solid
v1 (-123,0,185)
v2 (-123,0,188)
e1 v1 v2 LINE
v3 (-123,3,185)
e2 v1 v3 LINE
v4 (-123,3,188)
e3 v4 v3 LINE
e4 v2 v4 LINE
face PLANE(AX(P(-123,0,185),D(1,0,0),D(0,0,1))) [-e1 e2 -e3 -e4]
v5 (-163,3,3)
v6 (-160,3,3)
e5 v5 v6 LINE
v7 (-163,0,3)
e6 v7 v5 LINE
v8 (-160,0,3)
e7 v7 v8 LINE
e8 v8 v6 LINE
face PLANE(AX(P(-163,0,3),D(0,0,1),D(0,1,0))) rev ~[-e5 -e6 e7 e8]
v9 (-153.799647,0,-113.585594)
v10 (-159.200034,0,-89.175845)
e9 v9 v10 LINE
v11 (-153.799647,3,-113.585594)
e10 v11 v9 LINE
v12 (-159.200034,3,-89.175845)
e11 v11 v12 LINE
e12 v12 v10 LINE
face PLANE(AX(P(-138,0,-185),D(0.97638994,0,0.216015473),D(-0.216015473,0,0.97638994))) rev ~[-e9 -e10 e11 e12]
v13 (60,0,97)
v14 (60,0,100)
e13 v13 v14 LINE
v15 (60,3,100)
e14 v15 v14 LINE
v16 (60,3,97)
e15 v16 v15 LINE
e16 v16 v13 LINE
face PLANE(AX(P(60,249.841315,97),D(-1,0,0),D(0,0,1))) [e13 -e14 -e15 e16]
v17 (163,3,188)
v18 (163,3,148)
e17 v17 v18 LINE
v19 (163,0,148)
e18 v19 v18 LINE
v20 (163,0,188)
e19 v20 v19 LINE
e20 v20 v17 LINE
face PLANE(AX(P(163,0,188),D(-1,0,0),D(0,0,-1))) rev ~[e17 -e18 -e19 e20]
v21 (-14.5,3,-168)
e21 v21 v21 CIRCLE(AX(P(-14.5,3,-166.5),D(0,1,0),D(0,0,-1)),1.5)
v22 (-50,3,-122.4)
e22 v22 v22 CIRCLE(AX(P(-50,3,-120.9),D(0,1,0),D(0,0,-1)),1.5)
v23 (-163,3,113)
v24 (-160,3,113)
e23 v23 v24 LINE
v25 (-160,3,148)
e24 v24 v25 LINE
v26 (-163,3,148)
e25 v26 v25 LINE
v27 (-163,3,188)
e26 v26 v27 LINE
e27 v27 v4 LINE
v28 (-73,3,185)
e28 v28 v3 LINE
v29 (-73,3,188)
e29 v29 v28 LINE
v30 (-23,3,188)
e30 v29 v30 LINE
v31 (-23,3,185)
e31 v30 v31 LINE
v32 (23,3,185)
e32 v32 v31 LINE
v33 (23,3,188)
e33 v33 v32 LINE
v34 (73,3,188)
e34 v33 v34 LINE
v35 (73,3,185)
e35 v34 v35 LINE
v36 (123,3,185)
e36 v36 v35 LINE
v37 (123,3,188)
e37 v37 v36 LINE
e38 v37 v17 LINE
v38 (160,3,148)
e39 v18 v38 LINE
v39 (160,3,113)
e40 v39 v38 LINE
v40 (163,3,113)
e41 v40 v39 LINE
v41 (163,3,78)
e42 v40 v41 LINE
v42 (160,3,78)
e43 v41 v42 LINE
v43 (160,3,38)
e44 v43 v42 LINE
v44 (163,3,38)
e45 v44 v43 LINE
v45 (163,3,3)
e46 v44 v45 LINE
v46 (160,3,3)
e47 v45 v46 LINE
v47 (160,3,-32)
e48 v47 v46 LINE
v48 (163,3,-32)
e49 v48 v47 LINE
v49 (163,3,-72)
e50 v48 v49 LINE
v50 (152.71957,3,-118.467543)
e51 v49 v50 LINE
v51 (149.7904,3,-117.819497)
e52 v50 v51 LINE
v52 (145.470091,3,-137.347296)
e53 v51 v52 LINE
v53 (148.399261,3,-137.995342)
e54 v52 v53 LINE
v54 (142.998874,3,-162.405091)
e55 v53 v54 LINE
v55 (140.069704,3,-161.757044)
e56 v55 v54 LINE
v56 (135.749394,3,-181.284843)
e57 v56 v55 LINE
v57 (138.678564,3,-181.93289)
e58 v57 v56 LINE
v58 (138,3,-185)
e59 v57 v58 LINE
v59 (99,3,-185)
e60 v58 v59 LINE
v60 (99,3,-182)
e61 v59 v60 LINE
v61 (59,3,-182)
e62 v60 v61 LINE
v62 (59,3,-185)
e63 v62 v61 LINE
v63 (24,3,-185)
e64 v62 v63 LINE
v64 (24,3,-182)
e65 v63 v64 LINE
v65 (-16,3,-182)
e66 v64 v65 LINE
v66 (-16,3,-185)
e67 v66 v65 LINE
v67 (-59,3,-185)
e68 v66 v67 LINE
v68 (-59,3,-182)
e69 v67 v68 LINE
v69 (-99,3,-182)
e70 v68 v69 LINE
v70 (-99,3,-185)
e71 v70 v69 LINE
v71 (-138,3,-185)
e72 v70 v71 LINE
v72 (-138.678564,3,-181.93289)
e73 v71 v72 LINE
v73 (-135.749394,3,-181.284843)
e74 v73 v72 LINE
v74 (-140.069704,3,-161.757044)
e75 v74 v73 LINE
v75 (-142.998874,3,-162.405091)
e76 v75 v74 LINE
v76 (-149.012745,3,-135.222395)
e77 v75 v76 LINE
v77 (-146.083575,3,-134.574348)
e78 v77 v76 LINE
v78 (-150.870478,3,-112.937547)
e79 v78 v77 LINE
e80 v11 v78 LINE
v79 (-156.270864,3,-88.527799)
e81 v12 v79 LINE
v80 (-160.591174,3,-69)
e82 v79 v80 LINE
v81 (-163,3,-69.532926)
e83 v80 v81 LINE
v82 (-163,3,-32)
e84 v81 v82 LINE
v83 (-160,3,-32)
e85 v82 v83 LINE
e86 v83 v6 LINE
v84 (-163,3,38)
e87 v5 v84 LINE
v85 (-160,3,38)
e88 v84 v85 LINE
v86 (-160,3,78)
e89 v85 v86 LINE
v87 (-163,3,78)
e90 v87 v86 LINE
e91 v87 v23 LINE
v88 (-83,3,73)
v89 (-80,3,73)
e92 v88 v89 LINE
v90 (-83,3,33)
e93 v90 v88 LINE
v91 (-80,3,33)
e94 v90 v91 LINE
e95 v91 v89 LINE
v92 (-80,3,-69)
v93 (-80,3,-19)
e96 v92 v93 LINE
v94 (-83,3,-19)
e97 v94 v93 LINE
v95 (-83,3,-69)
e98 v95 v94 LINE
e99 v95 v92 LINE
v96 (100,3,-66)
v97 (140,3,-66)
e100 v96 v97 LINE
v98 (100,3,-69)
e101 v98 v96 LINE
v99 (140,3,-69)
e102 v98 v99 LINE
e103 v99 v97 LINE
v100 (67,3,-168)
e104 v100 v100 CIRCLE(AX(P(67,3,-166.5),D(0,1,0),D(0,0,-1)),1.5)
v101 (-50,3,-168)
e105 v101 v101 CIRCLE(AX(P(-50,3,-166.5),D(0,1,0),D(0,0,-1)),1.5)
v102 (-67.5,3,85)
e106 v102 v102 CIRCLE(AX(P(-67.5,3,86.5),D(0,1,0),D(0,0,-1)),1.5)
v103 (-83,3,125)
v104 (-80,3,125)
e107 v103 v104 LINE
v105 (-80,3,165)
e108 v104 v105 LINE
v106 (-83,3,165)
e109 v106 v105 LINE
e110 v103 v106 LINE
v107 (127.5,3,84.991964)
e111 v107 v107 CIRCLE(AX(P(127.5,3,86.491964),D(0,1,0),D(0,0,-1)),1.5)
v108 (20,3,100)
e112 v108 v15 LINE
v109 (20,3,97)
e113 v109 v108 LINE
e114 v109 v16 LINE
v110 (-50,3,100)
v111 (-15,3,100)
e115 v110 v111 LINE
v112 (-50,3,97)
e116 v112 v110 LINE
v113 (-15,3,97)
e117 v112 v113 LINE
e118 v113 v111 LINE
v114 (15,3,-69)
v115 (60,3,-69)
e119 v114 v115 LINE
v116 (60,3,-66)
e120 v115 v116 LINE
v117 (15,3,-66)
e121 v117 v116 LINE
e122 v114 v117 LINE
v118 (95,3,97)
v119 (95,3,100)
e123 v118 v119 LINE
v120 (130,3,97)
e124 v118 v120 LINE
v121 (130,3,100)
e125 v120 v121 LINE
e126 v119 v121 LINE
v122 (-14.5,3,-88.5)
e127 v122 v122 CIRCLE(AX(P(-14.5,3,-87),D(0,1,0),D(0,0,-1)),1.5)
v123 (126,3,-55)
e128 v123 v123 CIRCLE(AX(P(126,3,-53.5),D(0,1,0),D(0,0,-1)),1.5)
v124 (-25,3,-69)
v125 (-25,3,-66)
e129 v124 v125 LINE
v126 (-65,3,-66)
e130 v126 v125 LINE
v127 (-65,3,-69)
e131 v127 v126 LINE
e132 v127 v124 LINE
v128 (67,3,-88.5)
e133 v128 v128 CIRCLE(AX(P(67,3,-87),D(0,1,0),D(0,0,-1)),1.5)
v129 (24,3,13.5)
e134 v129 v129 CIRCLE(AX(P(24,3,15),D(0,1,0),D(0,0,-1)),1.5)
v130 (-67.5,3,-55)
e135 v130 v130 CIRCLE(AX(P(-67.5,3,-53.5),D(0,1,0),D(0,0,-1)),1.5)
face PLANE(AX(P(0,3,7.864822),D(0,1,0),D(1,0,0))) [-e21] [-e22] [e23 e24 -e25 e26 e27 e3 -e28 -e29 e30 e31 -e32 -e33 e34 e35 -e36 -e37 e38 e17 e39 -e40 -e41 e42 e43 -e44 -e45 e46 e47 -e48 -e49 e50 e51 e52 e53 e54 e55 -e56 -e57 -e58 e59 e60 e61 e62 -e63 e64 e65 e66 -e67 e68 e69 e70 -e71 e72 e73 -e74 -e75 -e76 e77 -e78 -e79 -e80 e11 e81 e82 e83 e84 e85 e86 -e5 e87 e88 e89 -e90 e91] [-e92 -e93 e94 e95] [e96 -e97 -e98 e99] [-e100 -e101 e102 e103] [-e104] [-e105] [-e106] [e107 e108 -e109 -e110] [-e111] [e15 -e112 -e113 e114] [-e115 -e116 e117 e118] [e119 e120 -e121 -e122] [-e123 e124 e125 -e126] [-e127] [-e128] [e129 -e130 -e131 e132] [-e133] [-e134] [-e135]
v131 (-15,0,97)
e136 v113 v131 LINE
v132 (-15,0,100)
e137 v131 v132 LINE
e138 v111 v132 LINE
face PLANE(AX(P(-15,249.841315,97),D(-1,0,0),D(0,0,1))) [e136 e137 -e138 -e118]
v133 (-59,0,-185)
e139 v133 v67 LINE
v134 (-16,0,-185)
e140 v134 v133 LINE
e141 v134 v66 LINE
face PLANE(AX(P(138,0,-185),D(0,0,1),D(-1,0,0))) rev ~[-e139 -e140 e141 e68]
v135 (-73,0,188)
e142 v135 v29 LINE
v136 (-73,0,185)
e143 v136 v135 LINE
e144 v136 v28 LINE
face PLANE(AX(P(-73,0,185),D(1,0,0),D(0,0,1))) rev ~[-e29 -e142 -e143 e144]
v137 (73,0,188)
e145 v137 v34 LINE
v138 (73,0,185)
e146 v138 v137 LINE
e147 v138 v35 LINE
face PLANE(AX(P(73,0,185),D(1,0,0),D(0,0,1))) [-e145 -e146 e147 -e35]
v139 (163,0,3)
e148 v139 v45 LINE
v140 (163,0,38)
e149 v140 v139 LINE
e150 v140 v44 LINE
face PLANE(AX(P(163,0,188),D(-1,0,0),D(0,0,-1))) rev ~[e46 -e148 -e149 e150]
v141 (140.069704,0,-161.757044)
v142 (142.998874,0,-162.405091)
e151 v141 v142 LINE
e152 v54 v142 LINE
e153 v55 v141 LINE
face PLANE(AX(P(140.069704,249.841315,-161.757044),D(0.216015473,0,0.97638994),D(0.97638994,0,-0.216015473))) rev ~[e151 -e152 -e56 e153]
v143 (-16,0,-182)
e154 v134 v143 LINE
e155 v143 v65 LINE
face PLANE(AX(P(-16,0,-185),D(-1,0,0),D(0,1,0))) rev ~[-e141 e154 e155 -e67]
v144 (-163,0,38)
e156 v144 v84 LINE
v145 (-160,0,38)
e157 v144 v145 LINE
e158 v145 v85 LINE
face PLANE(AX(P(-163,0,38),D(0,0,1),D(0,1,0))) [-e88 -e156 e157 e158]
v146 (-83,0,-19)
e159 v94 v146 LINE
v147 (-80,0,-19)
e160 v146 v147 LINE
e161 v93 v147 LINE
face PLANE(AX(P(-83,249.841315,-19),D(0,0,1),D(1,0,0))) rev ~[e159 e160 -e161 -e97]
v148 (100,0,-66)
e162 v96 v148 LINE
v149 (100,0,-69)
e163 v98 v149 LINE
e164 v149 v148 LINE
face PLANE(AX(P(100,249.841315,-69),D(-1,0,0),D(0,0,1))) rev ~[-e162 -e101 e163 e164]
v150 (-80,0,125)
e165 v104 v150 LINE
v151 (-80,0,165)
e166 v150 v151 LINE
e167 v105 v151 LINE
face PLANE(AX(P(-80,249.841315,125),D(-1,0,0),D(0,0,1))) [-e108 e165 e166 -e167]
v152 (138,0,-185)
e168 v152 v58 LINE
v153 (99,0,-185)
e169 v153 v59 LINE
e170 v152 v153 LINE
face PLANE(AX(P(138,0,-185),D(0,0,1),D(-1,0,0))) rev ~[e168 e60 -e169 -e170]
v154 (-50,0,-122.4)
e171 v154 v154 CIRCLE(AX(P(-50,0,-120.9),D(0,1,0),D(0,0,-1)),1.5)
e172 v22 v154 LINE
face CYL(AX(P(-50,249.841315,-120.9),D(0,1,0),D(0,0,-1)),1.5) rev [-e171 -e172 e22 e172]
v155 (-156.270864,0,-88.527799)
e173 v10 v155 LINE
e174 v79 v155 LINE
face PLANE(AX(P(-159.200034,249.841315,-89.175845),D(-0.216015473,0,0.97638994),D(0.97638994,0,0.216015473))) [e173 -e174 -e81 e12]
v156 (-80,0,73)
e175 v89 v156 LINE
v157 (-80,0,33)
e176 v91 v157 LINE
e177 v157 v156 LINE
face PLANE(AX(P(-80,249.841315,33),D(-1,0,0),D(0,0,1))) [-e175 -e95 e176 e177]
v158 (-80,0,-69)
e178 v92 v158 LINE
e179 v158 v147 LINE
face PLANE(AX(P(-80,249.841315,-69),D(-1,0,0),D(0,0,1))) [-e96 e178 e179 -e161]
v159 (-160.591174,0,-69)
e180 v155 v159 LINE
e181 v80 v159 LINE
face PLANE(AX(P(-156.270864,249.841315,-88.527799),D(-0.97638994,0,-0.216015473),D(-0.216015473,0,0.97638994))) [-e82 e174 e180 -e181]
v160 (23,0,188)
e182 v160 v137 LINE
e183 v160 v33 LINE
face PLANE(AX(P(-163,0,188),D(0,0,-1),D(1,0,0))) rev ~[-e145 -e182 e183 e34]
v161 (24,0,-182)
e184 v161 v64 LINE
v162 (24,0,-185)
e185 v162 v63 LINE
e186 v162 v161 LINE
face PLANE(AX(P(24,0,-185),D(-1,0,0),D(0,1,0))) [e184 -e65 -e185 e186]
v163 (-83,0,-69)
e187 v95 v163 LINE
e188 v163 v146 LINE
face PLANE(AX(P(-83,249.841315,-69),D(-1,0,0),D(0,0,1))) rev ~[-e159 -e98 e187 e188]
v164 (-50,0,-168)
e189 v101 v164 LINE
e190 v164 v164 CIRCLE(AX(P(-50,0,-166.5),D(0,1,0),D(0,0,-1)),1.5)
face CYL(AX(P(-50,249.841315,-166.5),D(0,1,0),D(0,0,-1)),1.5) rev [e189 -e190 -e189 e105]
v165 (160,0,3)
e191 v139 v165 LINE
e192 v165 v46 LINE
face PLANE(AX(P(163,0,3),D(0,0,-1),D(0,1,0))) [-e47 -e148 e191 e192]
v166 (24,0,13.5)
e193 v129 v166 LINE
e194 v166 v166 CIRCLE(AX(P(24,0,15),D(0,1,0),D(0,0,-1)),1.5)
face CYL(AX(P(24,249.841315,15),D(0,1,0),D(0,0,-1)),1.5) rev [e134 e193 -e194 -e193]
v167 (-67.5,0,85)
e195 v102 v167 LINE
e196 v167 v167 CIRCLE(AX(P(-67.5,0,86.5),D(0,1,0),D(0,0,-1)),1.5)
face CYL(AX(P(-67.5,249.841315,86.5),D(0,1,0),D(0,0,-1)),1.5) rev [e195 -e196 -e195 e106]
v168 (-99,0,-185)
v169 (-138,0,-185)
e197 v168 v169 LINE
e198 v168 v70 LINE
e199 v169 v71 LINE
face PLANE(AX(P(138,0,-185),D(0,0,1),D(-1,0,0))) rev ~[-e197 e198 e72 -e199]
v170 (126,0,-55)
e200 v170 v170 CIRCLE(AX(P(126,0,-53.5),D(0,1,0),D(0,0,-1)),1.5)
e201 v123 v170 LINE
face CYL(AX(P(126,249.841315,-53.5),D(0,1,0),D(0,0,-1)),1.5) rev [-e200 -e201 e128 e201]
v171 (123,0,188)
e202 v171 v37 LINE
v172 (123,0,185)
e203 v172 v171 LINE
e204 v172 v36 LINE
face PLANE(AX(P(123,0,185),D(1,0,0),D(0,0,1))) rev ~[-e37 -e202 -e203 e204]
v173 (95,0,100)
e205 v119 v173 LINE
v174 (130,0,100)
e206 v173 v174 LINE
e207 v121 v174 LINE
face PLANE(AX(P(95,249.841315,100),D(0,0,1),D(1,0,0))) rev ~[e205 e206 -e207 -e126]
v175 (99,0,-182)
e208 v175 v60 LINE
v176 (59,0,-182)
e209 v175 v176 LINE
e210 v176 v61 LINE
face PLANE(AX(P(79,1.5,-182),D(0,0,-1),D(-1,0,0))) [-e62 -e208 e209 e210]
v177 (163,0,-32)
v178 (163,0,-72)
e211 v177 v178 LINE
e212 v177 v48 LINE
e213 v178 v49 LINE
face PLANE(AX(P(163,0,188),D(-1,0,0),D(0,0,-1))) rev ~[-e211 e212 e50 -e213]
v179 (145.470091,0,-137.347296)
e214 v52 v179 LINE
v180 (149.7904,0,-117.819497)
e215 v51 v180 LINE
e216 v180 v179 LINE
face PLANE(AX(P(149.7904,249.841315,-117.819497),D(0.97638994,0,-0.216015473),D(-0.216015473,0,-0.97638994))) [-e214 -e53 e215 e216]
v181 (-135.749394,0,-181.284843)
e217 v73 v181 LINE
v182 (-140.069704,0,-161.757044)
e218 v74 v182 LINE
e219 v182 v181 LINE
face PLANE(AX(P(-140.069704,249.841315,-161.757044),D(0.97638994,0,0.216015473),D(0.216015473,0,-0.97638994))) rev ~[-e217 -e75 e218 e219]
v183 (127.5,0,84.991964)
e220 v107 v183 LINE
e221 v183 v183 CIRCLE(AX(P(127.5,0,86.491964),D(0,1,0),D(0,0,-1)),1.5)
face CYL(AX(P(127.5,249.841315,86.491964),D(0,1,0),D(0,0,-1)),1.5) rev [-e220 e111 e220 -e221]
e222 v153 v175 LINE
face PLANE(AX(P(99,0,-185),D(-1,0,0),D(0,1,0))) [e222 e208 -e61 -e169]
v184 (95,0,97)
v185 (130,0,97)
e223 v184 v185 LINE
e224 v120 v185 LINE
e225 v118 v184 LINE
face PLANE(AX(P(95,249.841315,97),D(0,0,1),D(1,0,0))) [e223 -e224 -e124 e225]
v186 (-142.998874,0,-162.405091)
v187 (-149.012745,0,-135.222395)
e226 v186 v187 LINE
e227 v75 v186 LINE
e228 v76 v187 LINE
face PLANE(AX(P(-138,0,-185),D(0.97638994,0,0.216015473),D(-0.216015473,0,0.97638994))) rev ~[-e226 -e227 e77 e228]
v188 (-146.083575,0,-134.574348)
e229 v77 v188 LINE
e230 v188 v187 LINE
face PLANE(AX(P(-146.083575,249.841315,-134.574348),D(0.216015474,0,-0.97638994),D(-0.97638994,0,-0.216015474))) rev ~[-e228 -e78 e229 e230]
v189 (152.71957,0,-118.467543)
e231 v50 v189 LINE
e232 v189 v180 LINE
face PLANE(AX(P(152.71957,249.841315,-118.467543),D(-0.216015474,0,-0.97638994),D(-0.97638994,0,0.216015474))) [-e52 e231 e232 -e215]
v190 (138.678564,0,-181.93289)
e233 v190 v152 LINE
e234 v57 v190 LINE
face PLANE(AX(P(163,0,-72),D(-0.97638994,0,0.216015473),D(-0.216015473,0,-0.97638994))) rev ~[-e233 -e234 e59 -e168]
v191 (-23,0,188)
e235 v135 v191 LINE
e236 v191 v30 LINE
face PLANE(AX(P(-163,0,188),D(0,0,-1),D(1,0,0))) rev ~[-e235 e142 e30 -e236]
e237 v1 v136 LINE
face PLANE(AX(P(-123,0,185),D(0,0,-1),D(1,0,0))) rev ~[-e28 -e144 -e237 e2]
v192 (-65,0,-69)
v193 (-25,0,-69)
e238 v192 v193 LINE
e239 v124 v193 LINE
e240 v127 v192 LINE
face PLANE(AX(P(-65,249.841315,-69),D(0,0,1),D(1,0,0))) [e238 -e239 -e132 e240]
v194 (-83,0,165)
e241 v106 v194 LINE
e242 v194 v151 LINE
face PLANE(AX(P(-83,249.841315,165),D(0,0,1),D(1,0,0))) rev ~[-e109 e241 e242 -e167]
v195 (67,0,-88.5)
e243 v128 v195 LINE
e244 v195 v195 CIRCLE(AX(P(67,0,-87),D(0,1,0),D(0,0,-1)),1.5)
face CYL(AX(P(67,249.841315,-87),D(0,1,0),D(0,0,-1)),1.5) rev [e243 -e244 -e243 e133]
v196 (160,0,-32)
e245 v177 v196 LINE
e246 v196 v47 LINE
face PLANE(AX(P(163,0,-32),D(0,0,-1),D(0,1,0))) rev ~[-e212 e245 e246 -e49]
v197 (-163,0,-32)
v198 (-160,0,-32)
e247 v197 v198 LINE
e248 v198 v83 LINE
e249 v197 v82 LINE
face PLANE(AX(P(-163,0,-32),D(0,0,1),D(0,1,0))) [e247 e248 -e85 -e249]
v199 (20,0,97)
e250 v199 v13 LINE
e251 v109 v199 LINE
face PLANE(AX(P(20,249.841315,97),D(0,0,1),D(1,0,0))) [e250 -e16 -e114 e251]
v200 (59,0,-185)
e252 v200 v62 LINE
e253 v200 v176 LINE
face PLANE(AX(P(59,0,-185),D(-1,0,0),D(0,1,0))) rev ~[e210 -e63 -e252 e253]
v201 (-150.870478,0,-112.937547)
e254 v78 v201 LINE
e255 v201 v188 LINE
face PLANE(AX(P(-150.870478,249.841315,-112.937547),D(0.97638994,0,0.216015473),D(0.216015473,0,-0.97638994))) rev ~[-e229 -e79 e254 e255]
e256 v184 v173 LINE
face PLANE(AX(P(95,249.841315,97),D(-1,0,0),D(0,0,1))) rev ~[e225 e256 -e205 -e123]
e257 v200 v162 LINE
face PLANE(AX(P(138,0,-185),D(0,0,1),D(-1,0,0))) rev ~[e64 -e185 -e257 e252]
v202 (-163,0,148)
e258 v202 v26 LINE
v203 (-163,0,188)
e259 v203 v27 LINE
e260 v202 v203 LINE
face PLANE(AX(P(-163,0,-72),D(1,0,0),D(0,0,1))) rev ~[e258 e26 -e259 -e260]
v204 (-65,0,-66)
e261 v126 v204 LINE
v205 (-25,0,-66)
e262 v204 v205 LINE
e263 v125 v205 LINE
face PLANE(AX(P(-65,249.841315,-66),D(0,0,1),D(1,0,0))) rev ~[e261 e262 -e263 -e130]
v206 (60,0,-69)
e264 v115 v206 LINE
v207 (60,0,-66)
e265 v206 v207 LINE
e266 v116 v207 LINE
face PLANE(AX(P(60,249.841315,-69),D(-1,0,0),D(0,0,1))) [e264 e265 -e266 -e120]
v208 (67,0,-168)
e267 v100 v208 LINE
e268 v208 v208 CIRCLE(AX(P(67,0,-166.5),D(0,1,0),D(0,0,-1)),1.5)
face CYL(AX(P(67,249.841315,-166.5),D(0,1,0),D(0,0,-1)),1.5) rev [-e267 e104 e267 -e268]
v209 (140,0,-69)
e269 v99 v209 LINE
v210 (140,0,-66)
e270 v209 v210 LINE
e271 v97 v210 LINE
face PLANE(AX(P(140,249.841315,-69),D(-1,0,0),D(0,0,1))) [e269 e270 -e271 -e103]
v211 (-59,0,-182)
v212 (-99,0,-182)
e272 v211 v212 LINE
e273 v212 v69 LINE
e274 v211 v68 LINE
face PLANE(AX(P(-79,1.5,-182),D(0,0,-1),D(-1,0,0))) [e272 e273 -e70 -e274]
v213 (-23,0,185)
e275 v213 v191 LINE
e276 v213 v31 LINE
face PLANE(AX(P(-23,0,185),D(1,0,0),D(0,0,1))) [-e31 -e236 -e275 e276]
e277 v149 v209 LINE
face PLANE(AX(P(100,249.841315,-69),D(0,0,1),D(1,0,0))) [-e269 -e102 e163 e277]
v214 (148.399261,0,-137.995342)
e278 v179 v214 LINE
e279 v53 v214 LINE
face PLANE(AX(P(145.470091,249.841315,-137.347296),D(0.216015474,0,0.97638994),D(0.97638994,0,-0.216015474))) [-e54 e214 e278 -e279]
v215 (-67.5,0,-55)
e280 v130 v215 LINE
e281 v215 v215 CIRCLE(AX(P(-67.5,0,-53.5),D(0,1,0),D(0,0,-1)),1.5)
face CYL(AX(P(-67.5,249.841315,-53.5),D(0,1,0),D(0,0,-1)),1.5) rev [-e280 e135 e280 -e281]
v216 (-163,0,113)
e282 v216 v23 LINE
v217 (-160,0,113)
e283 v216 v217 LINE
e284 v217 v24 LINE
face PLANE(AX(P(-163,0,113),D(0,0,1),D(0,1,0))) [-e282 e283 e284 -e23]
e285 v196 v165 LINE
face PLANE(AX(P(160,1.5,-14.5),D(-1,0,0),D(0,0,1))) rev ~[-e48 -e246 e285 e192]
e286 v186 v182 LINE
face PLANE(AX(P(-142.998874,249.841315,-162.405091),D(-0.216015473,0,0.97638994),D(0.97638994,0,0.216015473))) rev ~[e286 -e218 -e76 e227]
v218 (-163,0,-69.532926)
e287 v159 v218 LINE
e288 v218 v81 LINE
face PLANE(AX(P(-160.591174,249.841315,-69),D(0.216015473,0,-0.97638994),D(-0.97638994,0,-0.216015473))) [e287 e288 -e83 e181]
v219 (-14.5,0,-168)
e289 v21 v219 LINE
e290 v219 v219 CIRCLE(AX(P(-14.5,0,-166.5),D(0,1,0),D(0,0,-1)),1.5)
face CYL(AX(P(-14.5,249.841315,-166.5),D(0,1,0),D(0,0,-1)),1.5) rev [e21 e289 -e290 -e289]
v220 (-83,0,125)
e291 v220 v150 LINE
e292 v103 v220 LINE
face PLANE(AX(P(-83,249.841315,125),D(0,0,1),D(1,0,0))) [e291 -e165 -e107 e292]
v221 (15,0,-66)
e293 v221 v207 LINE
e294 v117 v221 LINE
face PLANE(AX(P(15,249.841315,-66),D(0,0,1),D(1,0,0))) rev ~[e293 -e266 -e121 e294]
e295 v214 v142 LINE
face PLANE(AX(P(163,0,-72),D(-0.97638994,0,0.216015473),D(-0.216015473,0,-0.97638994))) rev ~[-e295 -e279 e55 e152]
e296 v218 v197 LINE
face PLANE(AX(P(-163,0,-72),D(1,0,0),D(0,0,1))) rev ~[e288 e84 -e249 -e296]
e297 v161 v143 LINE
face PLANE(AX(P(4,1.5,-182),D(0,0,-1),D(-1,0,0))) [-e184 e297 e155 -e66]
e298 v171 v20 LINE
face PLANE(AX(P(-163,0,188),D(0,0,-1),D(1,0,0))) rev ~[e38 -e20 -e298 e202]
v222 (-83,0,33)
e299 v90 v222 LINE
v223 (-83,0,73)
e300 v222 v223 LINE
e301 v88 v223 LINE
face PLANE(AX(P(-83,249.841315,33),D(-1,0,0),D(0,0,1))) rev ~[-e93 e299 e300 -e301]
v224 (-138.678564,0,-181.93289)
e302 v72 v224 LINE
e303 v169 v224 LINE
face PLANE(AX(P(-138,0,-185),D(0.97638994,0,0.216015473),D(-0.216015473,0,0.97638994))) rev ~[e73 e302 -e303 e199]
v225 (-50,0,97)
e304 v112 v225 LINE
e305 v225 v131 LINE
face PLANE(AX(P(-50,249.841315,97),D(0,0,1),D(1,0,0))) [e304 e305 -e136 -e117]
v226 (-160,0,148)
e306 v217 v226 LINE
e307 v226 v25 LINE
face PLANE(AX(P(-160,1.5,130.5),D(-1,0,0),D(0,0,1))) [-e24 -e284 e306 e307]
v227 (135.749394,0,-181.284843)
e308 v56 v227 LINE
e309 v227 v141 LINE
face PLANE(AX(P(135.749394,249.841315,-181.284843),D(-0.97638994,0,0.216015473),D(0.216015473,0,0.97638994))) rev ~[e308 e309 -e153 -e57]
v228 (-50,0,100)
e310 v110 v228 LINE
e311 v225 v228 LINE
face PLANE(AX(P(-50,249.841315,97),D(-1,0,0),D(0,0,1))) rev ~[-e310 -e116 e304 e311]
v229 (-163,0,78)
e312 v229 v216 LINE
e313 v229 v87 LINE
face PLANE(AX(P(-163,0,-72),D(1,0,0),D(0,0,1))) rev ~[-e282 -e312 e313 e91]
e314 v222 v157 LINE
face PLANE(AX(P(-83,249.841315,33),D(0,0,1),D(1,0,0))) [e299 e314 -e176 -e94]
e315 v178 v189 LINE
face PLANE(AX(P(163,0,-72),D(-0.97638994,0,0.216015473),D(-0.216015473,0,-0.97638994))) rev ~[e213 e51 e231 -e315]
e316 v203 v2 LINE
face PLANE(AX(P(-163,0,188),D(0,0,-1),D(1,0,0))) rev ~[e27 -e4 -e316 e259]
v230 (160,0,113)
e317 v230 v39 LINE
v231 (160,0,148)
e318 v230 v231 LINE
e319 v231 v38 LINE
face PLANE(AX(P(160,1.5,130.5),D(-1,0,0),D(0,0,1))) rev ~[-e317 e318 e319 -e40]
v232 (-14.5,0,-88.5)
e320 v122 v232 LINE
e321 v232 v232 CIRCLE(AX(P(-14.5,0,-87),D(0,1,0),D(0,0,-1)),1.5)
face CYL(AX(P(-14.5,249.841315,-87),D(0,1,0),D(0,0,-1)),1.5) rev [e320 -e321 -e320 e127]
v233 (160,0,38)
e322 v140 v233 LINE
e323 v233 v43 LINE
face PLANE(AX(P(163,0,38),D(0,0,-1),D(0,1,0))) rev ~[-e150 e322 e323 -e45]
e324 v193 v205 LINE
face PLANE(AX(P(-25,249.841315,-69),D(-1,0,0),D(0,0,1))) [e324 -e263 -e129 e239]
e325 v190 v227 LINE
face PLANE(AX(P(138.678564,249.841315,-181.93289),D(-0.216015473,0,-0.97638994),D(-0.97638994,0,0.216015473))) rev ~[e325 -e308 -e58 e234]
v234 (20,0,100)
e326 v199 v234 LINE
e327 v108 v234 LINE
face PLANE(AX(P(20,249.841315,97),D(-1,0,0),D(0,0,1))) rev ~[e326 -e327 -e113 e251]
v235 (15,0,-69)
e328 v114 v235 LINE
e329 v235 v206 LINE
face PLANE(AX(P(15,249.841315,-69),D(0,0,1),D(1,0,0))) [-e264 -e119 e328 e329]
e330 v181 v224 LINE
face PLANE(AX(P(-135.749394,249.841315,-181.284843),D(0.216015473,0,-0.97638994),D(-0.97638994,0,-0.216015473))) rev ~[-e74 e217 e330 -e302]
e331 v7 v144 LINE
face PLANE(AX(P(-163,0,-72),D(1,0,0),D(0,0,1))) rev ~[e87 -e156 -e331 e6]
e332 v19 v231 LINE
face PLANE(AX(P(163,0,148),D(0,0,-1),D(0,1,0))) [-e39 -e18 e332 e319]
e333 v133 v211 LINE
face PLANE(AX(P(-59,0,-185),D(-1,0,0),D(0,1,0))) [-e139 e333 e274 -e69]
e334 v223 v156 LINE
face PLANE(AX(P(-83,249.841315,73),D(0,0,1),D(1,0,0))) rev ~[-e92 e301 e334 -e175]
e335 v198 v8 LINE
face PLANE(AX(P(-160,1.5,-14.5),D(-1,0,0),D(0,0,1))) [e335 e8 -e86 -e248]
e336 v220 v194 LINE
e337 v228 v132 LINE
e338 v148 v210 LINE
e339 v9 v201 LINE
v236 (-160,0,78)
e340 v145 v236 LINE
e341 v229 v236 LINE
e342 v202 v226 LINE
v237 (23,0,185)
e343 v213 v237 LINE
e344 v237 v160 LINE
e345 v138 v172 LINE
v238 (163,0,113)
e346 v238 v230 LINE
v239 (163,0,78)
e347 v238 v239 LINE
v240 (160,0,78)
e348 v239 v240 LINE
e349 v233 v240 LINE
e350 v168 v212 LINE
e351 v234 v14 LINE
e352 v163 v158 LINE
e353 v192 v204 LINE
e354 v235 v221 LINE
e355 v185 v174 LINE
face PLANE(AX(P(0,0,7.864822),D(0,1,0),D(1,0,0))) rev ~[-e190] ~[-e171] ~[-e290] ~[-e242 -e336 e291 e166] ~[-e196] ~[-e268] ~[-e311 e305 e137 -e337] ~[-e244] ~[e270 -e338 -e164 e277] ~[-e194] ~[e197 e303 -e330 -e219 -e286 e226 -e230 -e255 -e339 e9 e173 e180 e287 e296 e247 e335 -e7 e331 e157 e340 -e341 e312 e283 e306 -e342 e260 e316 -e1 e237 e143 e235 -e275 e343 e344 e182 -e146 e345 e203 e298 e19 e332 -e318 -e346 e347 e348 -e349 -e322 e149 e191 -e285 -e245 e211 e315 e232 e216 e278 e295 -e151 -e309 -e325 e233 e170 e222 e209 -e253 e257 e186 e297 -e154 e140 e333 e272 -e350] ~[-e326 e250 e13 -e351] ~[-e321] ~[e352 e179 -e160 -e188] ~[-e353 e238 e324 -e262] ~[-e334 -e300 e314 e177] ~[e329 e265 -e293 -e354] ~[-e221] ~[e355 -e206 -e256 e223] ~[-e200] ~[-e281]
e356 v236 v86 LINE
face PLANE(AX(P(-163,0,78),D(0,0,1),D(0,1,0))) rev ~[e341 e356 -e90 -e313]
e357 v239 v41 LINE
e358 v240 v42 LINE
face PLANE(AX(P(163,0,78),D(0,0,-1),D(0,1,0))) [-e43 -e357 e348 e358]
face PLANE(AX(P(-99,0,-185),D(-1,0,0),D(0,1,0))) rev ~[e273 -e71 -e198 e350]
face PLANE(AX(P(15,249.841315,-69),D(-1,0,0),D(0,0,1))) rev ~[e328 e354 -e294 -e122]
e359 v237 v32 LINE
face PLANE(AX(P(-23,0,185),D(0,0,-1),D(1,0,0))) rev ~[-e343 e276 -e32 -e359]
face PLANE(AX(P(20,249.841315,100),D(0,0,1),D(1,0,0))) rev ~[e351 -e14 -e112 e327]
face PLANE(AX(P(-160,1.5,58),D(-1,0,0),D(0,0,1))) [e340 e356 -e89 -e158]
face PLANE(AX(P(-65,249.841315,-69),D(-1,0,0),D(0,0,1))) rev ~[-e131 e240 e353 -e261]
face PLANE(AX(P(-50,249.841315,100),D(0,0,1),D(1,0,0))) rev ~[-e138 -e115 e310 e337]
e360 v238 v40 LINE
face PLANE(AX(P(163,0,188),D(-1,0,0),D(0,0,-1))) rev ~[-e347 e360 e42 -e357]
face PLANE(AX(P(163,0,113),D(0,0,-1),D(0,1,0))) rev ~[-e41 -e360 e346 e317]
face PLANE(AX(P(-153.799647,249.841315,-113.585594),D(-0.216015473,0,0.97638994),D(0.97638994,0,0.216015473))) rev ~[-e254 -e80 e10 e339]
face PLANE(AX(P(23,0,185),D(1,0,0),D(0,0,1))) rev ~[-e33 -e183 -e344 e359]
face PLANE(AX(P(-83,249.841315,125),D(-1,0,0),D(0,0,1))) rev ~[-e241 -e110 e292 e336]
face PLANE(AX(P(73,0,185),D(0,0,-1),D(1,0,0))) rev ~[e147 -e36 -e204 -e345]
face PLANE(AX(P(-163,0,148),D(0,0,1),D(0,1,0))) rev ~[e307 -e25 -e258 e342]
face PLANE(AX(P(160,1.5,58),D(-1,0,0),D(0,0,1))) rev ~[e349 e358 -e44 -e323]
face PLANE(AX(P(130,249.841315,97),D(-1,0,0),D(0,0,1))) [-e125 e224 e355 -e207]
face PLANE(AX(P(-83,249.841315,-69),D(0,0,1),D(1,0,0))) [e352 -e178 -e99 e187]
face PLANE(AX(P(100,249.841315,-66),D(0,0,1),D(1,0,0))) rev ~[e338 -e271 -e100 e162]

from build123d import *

# Parameters (mm, degrees)
BOSS_EXTRUDE1_DEPTH      = 3
SKETCH2_W                = 50
SKETCH2_H                = 3
SKETCH2_W_2              = 46
CUT_EXTRUDE1_DEPTH       = 4
SKETCH4_W                = 35
SKETCH4_H                = 3
SKETCH4_W_2              = 40
CUT_EXTRUDE2_DEPTH       = 3
CUT_EXTRUDE3_START       = -326
SKETCH4_2_W              = 35
SKETCH4_2_H              = 3
SKETCH4_2_W_2            = 40
CUT_EXTRUDE3_DEPTH       = 3
SKETCH5_W                = 40
SKETCH5_H                = 3
CUT_EXTRUDE4_DEPTH       = 3
CUT_EXTRUDE5_DEPTH       = 249.841314898
CUT_EXTRUDE5_DEPTH_BACK  = 249.841314898
SKETCH6_W                = 3
SKETCH6_H                = 40
SKETCH6_H_2              = 50
CUT_EXTRUDE6_DEPTH       = 249.841314898
CUT_EXTRUDE6_DEPTH_BACK  = 249.841314898
SKETCH7_W                = 40
SKETCH7_H                = 3
SKETCH7_W_2              = 45
CUT_EXTRUDE7_DEPTH       = 249.841314898
CUT_EXTRUDE7_DEPTH_BACK  = 249.841314898
CUT_EXTRUDE8_DEPTH       = 249.841314898
CUT_EXTRUDE8_DEPTH_BACK  = 249.841314898
CUT_EXTRUDE9_DEPTH       = 249.841314898
CUT_EXTRUDE9_DEPTH_BACK  = 249.841314898
SKETCH10_W               = 35
SKETCH10_H               = 3
SKETCH10_W_2             = 40
CUT_EXTRUDE10_DEPTH      = 249.841314898
CUT_EXTRUDE10_DEPTH_BACK = 249.841314898
SKETCH11_R               = 1.5
CUT_EXTRUDE11_DEPTH      = 249.841314898
CUT_EXTRUDE11_DEPTH_BACK = 249.841314898
SKETCH12_R               = 1.5


with BuildPart() as part:
    # Sketch1 → Boss-Extrude1 (new body)
    with BuildSketch(Plane(origin=(0, 0, 0), x_dir=(1, 0, 0), z_dir=(0, 1, 0))):
        Polygon((138, 185), (-138, 185), (-163, 72), (-163, -188), (163, -188), (163, 72), align=None)
    extrude(amount=BOSS_EXTRUDE1_DEPTH)

    # Sketch2 → Cut-Extrude1 (cut)
    with BuildSketch(Plane.XZ):
        with Locations((98, 186.5)):
            Rectangle(SKETCH2_W, SKETCH2_H)
        with Locations((0, 186.5)):
            Rectangle(SKETCH2_W_2, SKETCH2_H)
        with Locations((-98, 186.5)):
            Rectangle(SKETCH2_W, SKETCH2_H)
    extrude(amount=-CUT_EXTRUDE1_DEPTH, mode=Mode.SUBTRACT)

    # Sketch4 → Cut-Extrude2 (cut)
    with BuildSketch(Plane.ZY.offset(163)):
        with Locations((130.5, 1.5)):
            Rectangle(SKETCH4_W, SKETCH4_H)
        with Locations((-14.5, 1.5)):
            Rectangle(SKETCH4_W, SKETCH4_H)
        with Locations((58, 1.5)):
            Rectangle(SKETCH4_W_2, SKETCH4_H)
    extrude(amount=-CUT_EXTRUDE2_DEPTH, mode=Mode.SUBTRACT)

    # Sketch4<2> → Cut-Extrude3 (cut)
    with BuildSketch(Plane.ZY.offset(163).offset(CUT_EXTRUDE3_START)):
        with Locations((130.5, 1.5)):
            Rectangle(SKETCH4_2_W, SKETCH4_2_H)
        with Locations((-14.5, 1.5)):
            Rectangle(SKETCH4_2_W, SKETCH4_2_H)
        with Locations((58, 1.5)):
            Rectangle(SKETCH4_2_W_2, SKETCH4_2_H)
    extrude(amount=CUT_EXTRUDE3_DEPTH, mode=Mode.SUBTRACT)

    # Sketch5 → Cut-Extrude4 (cut)
    with BuildSketch(Plane(origin=(0, 0, -185), x_dir=(-1, 0, 0), z_dir=(0, 0, -1))):
        with Locations((79, 1.5)):
            Rectangle(SKETCH5_W, SKETCH5_H)
        with Locations((-4, 1.5)):
            Rectangle(SKETCH5_W, SKETCH5_H)
        with Locations((-79, 1.5)):
            Rectangle(SKETCH5_W, SKETCH5_H)
    extrude(amount=-CUT_EXTRUDE4_DEPTH, mode=Mode.SUBTRACT)

    # Sketch6 → Cut-Extrude5 (cut, two sides: drawn at the far end of the back side and taken through both)
    with BuildSketch(Plane.XZ.offset(-CUT_EXTRUDE5_DEPTH_BACK)):
        with Locations((-81.5, 145)):
            Rectangle(SKETCH6_W, SKETCH6_H)
        with Locations((-81.5, 53)):
            Rectangle(SKETCH6_W, SKETCH6_H)
        with Locations((-81.5, -44)):
            Rectangle(SKETCH6_W, SKETCH6_H_2)
    extrude(amount=CUT_EXTRUDE5_DEPTH + CUT_EXTRUDE5_DEPTH_BACK, mode=Mode.SUBTRACT)

    # Sketch7 → Cut-Extrude6 (cut, two sides: drawn at the far end of the back side and taken through both)
    with BuildSketch(Plane.XZ.offset(-CUT_EXTRUDE6_DEPTH_BACK)):
        with Locations((120, -67.5)):
            Rectangle(SKETCH7_W, SKETCH7_H)
        with Locations((37.5, -67.5)):
            Rectangle(SKETCH7_W_2, SKETCH7_H)
        with Locations((-45, -67.5)):
            Rectangle(SKETCH7_W, SKETCH7_H)
    extrude(amount=CUT_EXTRUDE6_DEPTH + CUT_EXTRUDE6_DEPTH_BACK, mode=Mode.SUBTRACT)

    # Sketch8 → Cut-Extrude7 (cut, two sides: drawn at the far end of the back side and taken through both)
    with BuildSketch(Plane(origin=(0, 0, 0), x_dir=(-1, 0, 0), z_dir=(0, -1, 0)).offset(-CUT_EXTRUDE7_DEPTH_BACK)):
        Polygon((135.749394441, 181.284843117), (138.678564262, 181.932889537), (142.998873731, 162.405090734), (140.069703911, 161.757044314), align=None)
        Polygon((146.083574693, 134.57434838), (149.012744513, 135.222394801), (153.799647406, 113.585593727), (150.870477585, 112.937547307), align=None)
        Polygon((156.270864422, 88.527798803), (160.591173892, 69), (163.520343712, 69.64804642), (159.200034243, 89.175845223), align=None)
    extrude(amount=CUT_EXTRUDE7_DEPTH + CUT_EXTRUDE7_DEPTH_BACK, mode=Mode.SUBTRACT)

    # Sketch9 → Cut-Extrude8 (cut, two sides: drawn at the far end of the back side and taken through both)
    with BuildSketch(Plane.XZ.offset(-CUT_EXTRUDE8_DEPTH_BACK)):
        Polygon((138.678564262, -181.932889537), (135.749394441, -181.284843117), (140.069703911, -161.757044314), (142.998873731, -162.405090734), align=None)
        Polygon((145.470090748, -137.34729581), (148.399260568, -137.995342231), (152.719570038, -118.467543428), (149.790400218, -117.819497007), align=None)
    extrude(amount=CUT_EXTRUDE8_DEPTH + CUT_EXTRUDE8_DEPTH_BACK, mode=Mode.SUBTRACT)

    # Sketch10 → Cut-Extrude9 (cut, two sides: drawn at the far end of the back side and taken through both)
    with BuildSketch(Plane.XZ.offset(-CUT_EXTRUDE9_DEPTH_BACK)):
        with Locations((112.5, 98.5)):
            Rectangle(SKETCH10_W, SKETCH10_H)
        with Locations((40, 98.5)):
            Rectangle(SKETCH10_W_2, SKETCH10_H)
        with Locations((-32.5, 98.5)):
            Rectangle(SKETCH10_W, SKETCH10_H)
    extrude(amount=CUT_EXTRUDE9_DEPTH + CUT_EXTRUDE9_DEPTH_BACK, mode=Mode.SUBTRACT)

    # Sketch11 → Cut-Extrude10 (cut, two sides: drawn at the far end of the back side and taken through both)
    with BuildSketch(Plane.XZ.offset(-CUT_EXTRUDE10_DEPTH_BACK)):
        with Locations(Location((67, -166.5, 0), (0, 0, 270))):
            Circle(SKETCH11_R)
        with Locations(Location((-14.5, -166.5, 0), (0, 0, 270))):
            Circle(SKETCH11_R)
        with Locations(Location((-50, -166.5, 0), (0, 0, 270))):
            Circle(SKETCH11_R)
        with Locations(Location((67, -87, 0), (0, 0, 270))):
            Circle(SKETCH11_R)
        with Locations(Location((-14.5, -87, 0), (0, 0, 270))):
            Circle(SKETCH11_R)
        with Locations(Location((-50, -120.9, 0), (0, 0, 270))):
            Circle(SKETCH11_R)
    extrude(amount=CUT_EXTRUDE10_DEPTH + CUT_EXTRUDE10_DEPTH_BACK, mode=Mode.SUBTRACT)

    # Sketch12 → Cut-Extrude11 (cut, two sides: drawn at the far end of the back side and taken through both)
    with BuildSketch(Plane.XZ.offset(-CUT_EXTRUDE11_DEPTH_BACK)):
        with Locations(Location((126, -53.5, 0), (0, 0, 270))):
            Circle(SKETCH12_R)
        with Locations(Location((127.499999834, 86.491964057, 0), (0, 0, 270))):
            Circle(SKETCH12_R)
        with Locations(Location((-67.5, -53.5, 0), (0, 0, 270))):
            Circle(SKETCH12_R)
        with Locations(Location((-67.5, 86.5, 0), (0, 0, 270))):
            Circle(SKETCH12_R)
        with Locations(Location((24, 15, 0), (0, 0, 270))):
            Circle(SKETCH12_R)
    extrude(amount=CUT_EXTRUDE11_DEPTH + CUT_EXTRUDE11_DEPTH_BACK, mode=Mode.SUBTRACT)


solid = part.part
